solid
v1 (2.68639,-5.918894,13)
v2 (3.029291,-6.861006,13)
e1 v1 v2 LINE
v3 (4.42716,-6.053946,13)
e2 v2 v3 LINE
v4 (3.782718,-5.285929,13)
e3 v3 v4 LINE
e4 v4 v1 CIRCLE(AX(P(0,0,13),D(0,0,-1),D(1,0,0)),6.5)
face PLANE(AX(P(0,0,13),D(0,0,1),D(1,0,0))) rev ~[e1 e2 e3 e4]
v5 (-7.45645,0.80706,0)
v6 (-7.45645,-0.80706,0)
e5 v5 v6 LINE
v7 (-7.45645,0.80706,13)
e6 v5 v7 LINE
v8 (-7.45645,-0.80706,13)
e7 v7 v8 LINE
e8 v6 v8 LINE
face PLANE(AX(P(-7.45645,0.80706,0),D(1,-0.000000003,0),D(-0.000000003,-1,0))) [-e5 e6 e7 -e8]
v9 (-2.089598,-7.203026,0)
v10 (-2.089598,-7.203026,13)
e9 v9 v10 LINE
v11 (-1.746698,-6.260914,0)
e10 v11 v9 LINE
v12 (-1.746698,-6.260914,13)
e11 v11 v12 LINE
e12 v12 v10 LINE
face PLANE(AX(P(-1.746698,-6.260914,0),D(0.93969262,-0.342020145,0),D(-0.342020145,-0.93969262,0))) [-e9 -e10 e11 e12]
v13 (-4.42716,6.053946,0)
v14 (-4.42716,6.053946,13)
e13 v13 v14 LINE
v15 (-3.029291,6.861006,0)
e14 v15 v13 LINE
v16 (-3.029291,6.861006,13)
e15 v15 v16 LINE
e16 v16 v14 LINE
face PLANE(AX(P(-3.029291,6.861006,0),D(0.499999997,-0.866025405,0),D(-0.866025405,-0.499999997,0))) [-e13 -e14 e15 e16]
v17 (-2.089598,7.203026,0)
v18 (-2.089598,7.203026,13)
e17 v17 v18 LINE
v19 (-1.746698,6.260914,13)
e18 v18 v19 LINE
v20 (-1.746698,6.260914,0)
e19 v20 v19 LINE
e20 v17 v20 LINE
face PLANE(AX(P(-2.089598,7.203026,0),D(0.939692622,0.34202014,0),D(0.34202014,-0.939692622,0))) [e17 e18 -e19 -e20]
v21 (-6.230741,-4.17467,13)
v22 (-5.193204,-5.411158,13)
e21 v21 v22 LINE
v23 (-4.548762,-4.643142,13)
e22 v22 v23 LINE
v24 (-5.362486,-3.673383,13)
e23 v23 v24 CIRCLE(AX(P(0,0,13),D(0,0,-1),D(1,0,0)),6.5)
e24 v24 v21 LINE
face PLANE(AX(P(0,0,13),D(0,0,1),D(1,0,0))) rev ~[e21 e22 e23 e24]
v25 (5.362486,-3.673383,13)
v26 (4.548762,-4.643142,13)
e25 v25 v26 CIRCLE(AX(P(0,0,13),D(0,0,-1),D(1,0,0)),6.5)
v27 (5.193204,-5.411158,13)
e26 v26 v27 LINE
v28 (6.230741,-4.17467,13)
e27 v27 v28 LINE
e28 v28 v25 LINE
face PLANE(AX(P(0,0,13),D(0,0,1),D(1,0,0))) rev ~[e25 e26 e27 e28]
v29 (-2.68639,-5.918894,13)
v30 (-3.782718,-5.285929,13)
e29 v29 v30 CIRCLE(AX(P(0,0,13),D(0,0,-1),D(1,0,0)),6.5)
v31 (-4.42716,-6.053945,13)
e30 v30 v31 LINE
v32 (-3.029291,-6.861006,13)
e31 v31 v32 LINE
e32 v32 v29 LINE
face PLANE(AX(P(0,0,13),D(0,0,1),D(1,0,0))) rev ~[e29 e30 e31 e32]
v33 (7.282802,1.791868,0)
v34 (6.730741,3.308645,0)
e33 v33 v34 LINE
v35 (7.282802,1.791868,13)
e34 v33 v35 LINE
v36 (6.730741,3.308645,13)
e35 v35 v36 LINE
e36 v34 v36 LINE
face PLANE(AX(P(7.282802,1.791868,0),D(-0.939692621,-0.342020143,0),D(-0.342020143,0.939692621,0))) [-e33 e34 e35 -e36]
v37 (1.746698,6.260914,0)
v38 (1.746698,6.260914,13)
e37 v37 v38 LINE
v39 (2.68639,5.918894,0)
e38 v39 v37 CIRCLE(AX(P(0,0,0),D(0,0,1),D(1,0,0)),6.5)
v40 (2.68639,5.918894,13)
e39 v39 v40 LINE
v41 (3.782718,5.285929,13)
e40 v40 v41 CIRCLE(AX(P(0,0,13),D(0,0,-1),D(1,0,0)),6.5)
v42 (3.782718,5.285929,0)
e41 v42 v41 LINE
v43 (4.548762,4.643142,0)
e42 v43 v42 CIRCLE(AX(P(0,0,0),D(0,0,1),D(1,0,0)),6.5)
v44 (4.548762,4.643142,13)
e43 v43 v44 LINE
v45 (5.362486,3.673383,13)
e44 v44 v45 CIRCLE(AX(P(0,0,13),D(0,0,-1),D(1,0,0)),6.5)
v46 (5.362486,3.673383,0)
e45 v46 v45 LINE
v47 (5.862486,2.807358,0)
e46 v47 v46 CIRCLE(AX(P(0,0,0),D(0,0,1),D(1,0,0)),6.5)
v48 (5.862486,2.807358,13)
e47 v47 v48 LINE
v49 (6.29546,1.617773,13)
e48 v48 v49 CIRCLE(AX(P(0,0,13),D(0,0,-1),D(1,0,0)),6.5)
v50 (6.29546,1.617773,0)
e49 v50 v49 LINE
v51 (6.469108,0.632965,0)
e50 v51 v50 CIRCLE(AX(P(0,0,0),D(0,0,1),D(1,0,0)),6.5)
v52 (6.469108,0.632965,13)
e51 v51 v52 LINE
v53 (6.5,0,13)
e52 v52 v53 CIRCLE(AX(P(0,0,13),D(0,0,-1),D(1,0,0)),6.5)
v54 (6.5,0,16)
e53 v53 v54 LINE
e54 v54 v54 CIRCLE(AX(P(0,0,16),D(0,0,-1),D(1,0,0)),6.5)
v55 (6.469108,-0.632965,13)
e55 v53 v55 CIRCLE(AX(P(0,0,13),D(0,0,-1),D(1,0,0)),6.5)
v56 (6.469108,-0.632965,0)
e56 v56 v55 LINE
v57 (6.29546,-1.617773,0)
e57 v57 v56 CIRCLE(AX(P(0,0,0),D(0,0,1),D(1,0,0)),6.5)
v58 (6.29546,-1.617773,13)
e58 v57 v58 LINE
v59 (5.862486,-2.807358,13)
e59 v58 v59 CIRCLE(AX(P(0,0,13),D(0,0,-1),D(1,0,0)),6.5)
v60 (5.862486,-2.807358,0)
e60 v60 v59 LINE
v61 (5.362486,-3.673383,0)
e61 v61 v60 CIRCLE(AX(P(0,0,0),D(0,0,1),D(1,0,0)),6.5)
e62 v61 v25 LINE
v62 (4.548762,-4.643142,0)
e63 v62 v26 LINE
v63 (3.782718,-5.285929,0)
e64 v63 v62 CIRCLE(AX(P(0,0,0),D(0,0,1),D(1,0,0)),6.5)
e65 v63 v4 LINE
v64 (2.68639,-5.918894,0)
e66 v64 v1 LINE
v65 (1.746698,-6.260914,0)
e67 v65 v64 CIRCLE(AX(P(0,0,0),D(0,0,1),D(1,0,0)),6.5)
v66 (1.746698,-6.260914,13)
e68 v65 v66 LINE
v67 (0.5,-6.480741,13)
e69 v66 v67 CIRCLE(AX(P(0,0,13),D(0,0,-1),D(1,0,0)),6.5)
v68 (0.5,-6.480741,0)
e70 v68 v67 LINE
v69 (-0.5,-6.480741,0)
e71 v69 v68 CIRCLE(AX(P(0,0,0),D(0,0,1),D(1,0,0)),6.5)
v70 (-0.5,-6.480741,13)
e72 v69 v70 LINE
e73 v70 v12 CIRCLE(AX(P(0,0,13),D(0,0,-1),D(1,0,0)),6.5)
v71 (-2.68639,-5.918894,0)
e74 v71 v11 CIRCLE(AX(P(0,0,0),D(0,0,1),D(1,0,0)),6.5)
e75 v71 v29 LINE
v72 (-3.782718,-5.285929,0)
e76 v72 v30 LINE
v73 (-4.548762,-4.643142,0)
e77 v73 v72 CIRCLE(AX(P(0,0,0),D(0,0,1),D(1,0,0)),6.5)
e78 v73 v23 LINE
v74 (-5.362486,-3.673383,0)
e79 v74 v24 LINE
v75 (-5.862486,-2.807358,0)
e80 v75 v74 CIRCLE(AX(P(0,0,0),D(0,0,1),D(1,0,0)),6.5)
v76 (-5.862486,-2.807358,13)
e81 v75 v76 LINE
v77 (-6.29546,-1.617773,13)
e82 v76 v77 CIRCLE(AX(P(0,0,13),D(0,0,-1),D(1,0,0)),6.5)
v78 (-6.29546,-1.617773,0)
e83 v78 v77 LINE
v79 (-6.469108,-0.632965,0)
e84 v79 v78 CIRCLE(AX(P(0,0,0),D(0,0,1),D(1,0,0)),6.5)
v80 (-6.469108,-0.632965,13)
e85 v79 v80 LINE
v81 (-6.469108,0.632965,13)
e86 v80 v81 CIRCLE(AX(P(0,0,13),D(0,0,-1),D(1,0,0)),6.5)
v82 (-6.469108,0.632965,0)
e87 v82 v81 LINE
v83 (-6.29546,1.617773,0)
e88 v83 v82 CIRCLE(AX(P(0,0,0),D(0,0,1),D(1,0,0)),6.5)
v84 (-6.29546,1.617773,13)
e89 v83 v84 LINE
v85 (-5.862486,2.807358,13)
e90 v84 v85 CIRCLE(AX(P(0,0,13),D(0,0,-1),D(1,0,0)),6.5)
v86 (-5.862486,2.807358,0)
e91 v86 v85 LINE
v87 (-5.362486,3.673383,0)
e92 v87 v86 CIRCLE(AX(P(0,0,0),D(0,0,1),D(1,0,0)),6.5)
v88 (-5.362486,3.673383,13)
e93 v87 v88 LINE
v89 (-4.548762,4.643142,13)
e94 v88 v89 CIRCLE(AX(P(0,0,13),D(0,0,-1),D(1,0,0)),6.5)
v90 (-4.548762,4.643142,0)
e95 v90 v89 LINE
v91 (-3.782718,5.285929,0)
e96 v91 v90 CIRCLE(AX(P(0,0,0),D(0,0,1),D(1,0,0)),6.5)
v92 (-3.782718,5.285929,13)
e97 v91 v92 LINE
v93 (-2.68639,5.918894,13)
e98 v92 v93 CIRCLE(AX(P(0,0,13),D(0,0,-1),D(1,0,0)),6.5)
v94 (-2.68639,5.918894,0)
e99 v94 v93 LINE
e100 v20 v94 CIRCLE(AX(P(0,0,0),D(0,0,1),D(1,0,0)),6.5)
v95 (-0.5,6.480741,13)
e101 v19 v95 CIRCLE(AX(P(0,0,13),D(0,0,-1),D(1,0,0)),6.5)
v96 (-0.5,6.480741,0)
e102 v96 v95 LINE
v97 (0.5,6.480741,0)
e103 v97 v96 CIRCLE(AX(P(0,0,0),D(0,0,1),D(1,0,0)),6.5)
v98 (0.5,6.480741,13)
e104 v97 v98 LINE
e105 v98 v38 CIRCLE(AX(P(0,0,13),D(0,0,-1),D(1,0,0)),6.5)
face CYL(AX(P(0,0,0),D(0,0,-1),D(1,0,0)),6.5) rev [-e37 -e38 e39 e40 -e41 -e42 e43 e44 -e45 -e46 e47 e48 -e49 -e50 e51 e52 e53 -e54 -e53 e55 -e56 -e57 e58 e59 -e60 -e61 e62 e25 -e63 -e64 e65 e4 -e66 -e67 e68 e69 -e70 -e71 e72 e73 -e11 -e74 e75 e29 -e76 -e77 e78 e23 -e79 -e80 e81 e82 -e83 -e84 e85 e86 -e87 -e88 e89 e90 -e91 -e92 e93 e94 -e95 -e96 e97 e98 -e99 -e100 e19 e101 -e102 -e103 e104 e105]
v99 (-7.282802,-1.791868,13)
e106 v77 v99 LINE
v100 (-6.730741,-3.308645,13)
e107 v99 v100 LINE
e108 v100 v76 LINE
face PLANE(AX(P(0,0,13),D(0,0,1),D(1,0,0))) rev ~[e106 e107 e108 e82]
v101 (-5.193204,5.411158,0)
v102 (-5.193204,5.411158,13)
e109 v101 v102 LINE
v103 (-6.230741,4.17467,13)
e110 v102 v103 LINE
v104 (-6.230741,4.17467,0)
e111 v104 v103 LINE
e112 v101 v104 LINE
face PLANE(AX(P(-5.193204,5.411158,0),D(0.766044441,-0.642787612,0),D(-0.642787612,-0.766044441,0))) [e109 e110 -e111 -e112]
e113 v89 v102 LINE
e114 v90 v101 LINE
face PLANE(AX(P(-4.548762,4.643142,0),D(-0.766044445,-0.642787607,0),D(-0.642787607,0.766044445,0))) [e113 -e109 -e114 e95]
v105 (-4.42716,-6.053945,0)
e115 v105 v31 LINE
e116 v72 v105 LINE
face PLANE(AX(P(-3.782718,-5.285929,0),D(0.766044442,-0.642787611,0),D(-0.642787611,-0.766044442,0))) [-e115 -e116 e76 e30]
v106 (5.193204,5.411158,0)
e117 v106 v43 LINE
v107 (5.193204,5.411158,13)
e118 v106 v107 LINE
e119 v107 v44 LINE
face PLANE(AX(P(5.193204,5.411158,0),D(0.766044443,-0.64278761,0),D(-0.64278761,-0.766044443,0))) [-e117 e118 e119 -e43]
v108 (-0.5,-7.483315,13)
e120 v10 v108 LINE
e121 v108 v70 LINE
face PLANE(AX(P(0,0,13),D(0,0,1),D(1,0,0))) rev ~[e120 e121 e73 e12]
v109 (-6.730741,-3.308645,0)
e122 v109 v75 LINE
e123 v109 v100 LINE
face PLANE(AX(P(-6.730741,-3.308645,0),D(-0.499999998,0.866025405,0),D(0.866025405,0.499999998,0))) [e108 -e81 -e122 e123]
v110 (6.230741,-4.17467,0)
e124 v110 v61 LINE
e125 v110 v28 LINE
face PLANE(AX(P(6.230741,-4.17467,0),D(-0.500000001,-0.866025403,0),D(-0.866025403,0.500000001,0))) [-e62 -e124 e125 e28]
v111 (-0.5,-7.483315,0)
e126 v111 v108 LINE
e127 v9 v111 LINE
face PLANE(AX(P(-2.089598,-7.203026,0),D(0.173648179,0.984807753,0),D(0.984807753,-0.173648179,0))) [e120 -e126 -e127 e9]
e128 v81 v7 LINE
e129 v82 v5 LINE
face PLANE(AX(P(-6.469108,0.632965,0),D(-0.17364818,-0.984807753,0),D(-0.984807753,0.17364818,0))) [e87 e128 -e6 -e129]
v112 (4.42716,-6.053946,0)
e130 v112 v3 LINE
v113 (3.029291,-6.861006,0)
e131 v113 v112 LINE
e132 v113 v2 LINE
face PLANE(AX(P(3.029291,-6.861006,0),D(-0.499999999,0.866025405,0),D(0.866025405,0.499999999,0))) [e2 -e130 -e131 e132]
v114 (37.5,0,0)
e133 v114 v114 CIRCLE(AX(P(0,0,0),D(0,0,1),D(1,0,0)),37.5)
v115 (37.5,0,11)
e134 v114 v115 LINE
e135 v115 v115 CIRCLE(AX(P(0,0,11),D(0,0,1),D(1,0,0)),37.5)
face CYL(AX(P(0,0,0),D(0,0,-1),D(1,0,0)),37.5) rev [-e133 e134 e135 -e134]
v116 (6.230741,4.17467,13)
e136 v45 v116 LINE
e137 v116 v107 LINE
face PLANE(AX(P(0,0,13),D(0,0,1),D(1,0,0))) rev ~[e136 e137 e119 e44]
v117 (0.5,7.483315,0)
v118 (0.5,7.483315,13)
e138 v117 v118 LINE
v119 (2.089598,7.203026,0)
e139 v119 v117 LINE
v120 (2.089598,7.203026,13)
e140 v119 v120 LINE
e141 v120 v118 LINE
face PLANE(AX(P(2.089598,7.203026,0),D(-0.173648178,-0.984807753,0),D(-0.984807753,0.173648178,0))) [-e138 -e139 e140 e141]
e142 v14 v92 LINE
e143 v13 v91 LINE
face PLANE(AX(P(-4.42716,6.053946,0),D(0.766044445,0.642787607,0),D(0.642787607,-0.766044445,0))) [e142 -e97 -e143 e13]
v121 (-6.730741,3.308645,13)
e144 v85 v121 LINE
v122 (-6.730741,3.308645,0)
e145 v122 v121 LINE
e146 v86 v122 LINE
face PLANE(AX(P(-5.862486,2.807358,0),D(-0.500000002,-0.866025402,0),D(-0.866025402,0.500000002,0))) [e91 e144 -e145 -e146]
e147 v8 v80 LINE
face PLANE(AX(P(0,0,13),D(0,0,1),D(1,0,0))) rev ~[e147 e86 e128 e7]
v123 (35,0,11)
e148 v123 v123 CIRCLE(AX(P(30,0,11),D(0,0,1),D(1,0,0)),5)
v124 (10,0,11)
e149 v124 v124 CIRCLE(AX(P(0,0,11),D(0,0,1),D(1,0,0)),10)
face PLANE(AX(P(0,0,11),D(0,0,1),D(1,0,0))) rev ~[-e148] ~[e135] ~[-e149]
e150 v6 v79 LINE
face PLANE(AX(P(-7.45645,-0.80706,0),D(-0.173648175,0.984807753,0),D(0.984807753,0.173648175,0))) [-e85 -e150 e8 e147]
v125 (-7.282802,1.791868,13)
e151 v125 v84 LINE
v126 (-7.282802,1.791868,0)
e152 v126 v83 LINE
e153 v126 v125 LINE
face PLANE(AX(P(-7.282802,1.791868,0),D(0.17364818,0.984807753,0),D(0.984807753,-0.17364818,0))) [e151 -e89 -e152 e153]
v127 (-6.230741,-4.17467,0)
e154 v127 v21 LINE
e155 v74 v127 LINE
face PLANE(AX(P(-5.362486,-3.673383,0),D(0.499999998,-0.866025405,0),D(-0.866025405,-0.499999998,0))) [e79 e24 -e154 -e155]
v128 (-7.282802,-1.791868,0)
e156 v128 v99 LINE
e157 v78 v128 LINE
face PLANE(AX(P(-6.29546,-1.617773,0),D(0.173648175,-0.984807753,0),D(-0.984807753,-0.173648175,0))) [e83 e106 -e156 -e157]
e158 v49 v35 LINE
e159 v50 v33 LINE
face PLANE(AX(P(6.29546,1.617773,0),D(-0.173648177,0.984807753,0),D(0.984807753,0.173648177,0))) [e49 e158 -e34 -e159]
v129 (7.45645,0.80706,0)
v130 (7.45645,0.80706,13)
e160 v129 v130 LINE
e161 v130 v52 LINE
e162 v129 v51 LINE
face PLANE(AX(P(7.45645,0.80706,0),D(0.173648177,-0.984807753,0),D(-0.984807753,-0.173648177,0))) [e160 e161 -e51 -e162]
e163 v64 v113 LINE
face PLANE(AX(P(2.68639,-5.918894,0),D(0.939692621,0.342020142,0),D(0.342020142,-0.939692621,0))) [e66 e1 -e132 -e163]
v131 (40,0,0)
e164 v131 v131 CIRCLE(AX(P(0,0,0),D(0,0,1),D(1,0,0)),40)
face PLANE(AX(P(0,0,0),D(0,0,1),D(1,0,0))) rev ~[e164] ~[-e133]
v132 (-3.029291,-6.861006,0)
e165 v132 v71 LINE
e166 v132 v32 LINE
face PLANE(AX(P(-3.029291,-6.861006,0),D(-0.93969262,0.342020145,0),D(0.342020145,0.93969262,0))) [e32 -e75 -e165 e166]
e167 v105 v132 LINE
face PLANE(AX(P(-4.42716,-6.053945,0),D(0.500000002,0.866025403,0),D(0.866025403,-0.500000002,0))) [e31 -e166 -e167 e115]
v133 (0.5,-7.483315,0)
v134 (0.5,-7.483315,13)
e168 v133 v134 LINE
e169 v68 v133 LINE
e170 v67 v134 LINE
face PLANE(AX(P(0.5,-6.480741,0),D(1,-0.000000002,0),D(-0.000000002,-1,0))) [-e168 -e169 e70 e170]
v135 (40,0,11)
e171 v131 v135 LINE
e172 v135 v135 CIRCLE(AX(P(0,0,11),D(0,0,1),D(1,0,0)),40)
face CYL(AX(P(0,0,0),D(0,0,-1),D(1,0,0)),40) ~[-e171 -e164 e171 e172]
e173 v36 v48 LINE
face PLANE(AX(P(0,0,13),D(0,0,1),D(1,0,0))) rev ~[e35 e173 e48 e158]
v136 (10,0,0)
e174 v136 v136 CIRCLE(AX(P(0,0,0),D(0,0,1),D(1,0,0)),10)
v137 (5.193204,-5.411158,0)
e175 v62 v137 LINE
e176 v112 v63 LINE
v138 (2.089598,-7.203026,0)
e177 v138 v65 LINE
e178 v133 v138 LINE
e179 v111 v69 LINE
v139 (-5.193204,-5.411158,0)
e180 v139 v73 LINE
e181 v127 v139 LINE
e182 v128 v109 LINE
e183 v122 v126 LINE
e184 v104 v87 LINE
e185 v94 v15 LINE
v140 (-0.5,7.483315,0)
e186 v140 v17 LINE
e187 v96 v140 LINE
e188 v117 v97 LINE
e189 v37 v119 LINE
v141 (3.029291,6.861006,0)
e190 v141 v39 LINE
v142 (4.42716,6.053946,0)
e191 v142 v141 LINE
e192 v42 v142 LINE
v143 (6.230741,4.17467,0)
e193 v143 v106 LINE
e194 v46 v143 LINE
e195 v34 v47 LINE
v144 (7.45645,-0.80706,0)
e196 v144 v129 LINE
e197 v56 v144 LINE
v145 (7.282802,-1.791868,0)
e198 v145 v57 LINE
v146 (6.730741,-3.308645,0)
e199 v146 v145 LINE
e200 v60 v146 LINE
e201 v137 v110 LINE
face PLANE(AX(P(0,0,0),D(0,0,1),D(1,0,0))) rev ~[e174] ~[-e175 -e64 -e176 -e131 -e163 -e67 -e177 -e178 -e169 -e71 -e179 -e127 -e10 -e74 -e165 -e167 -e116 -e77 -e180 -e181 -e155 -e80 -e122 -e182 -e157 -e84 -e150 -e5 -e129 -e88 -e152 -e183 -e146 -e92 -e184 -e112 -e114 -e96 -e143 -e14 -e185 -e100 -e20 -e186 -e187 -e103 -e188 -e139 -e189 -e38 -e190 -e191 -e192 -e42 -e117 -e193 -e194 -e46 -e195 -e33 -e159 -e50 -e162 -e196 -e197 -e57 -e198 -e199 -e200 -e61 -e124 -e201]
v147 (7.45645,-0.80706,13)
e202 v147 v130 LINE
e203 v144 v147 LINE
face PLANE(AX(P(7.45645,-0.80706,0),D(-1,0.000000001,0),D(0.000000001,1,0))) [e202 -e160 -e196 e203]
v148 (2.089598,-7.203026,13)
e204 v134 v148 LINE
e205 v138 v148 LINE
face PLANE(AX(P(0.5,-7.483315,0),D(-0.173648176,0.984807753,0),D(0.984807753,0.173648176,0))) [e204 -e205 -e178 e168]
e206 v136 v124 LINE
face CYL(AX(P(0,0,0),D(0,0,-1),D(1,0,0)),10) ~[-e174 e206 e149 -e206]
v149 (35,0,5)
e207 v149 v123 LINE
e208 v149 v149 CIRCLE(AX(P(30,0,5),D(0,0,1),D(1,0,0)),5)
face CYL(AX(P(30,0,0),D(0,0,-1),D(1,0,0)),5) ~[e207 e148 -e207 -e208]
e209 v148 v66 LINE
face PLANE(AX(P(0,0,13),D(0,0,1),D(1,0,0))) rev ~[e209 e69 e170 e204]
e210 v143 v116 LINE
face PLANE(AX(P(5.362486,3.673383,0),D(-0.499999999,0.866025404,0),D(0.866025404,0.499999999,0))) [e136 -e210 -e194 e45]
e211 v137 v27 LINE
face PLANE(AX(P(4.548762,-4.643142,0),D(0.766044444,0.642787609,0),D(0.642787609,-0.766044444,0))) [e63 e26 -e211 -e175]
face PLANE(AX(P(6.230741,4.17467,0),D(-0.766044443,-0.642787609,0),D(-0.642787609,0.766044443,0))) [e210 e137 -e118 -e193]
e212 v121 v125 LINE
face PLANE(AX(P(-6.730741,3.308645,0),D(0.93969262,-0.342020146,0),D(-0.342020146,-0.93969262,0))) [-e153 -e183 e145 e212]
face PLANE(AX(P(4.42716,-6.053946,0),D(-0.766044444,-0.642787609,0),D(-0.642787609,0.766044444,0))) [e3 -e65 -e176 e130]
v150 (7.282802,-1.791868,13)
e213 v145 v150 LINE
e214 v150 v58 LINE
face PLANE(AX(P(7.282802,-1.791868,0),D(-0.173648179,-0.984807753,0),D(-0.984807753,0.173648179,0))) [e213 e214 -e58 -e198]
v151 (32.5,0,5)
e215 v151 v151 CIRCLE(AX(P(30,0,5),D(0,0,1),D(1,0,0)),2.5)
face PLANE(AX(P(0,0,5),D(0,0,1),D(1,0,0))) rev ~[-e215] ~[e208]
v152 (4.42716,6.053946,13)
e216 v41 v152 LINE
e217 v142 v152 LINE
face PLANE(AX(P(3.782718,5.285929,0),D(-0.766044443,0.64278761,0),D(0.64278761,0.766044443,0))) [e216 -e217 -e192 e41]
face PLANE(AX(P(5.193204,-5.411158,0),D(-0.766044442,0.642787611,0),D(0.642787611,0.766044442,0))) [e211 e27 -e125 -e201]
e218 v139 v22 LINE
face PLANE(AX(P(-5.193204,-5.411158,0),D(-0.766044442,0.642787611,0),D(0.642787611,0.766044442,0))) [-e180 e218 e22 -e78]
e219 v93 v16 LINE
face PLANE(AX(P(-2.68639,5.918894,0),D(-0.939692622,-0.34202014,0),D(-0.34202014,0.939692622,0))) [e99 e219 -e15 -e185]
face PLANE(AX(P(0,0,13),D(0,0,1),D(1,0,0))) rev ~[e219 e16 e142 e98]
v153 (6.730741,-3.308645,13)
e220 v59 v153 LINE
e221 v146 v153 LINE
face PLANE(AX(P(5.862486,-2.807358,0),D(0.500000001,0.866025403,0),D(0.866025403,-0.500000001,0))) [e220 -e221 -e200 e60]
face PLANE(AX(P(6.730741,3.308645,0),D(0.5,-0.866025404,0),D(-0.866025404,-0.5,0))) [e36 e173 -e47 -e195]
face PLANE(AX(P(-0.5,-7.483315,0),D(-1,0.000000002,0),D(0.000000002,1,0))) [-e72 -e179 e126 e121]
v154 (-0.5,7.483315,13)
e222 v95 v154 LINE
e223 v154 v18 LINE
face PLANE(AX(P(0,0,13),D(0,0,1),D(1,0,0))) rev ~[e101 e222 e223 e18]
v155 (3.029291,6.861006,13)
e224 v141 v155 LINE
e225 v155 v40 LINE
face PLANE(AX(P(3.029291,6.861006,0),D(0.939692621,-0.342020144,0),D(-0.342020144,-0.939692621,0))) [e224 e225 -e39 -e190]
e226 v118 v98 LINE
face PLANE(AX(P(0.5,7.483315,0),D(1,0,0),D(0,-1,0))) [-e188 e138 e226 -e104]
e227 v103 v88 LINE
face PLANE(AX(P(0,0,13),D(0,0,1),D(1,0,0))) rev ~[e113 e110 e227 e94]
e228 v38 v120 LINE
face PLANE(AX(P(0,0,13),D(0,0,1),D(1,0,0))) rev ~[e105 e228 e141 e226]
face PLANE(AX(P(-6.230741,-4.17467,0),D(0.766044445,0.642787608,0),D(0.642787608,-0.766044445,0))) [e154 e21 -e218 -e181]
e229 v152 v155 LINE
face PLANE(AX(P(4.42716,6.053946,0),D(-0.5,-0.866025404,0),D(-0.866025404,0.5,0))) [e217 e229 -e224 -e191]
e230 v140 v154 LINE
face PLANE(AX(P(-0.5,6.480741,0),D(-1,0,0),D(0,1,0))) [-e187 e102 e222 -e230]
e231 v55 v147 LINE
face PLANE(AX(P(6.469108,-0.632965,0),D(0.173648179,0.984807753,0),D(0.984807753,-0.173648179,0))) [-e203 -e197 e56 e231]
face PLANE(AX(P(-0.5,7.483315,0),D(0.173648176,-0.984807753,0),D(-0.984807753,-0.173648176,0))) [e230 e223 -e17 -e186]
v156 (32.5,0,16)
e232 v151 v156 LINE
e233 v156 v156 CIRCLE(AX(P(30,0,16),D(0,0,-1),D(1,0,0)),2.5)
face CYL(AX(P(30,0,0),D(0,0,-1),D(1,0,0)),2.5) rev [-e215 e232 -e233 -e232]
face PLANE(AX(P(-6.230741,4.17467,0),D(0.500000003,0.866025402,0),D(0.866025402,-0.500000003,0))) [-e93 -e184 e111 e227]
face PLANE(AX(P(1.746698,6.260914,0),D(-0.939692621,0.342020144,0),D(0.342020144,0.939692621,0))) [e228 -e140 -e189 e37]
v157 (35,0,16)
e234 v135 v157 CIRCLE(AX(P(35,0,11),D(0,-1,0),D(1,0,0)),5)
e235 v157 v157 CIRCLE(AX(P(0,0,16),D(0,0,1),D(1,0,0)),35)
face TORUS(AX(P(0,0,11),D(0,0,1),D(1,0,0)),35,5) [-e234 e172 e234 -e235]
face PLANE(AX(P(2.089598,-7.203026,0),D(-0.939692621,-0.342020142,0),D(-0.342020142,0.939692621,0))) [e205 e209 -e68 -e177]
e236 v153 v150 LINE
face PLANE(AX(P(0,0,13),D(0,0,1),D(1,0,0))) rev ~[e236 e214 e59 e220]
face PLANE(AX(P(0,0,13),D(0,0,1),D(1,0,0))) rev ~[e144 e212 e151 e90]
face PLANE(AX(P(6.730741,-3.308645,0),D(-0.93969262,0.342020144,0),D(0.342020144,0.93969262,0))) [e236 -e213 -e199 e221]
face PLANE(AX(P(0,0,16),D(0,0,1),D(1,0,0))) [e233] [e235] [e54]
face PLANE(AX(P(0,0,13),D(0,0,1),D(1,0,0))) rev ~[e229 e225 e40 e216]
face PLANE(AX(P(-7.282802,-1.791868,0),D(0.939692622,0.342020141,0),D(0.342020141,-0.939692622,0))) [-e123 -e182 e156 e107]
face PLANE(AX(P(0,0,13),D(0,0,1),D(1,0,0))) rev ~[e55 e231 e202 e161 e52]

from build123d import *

# Parameters (mm, degrees)
F1_R      = 40
F2_DEPTH  = 16
F3_DEPTH  = 13
F4_R      = 6.5
F5_DEPTH  = 16.001
F6_R      = 2.5
F7_DEPTH  = 16.001
F8_R      = 5
F9_R      = 37.5
F9_R_2    = 10
F9_R_3    = 5
F10_DEPTH = 11
F11_DEPTH = 5


with BuildPart() as f2:
    # F1 (on Top) → F2 (new body)
    with BuildSketch(Plane.XY):
        Circle(F1_R)
    extrude(amount=F2_DEPTH)

    # F0 (on Top) → F3 (cut)
    with BuildSketch(Plane.XY):
        Polygon((0.5, 7.4833147735), (0.5, 6.4807406984), (-0.5, 6.4807406984), (-0.5, 7.4833147735), (-2.0895980578, 7.2030257501), (-1.746697532, 6.2609142888), (-2.6863901539, 5.9188941485), (-3.0292906797, 6.8610056098), (-4.4271597759, 6.0539455166), (-3.782717585, 5.2859292156), (-4.54876203, 4.6431416082), (-5.193204221, 5.4111579093), (-6.2307406865, 4.1746701064), (-5.3624860697, 3.6733830663), (-5.8624860722, 2.807357664), (-6.730740689, 3.308644704), (-7.2828023136, 1.7918678691), (-6.2954595919, 1.6177727054), (-6.4691077722, 0.6329649529), (-7.4564504939, 0.8070601166), (-7.456450498, -0.8070600785), (-6.4691077754, -0.6329649198), (-6.2954596002, -1.6177726732), (-7.2828023228, -1.7918678319), (-6.7307407059, -3.3086446696), (-5.8624860865, -2.807357634), (-5.3624860885, -3.6733830389), (-6.2307407079, -4.1746700745), (-5.1932042487, -5.4111578827), (-4.5487620538, -4.643141585), (-3.782717612, -5.2859291963), (-4.4271598069, -6.053945494), (-3.0292907148, -6.8610055943), (-2.6863901841, -5.9188941348), (-1.746697564, -6.2609142799), (-2.0895980946, -7.2030257394), (-0.5000000128, -7.4833147727), (-0.500000011, -6.4807406976), (0.499999989, -6.4807406993), (0.4999999872, -7.4833147744), (2.0895980701, -7.2030257465), (1.7466975426, -6.2609142858), (2.686390164, -5.9188941439), (3.0292906914, -6.8610056046), (4.4271597862, -6.0539455091), (3.782717594, -5.2859292092), (4.5487620379, -4.6431416005), (5.1932042302, -5.4111579004), (6.2307406937, -4.1746700957), (5.362486076, -3.6733830572), (5.862486077, -2.807357654), (6.7307406946, -3.3086446925), (7.2828023167, -1.7918678567), (6.2954595947, -1.6177726947), (6.4691077733, -0.6329649418), (7.4564504953, -0.8070601039), (7.4564504967, 0.8070600912), (6.4691077744, 0.6329649308), (6.2954595974, 1.6177726839), (7.2828023197, 1.7918678443), (6.7307407003, 3.3086446811), (5.8624860818, 2.807357644), (5.3624860822, 3.673383048), (6.2307407008, 4.1746700851), (5.1932042394, 5.4111578916), (4.5487620458, 4.6431415927), (3.782717603, 5.2859292027), (4.4271597966, 6.0539455016), (3.0292907031, 6.8610055995), (2.686390174, 5.9188941393), (1.7466975533, 6.2609142829), (2.0895980824, 7.203025743), align=None)
    extrude(amount=F3_DEPTH, mode=Mode.SUBTRACT)

    # F4 (on Top) → F5 (cut, through all)
    with BuildSketch(Plane.XY):
        Circle(F4_R)
    extrude(amount=F5_DEPTH, mode=Mode.SUBTRACT)

    # F6 (on Top) → F7 (cut, through all)
    with BuildSketch(Plane.XY):
        with Locations((30, 0)):
            Circle(F6_R)
    extrude(amount=F7_DEPTH, mode=Mode.SUBTRACT)

    # F8
    f8_edges = [f2.edges().sort_by_distance(p)[0] for p in [
        (-40, 0, 16),
    ]]
    fillet(f8_edges, radius=F8_R)

    # F9 (on Top) → F10 (cut)
    with BuildSketch(Plane.XY):
        Circle(F9_R)
        Circle(F9_R_2, mode=Mode.SUBTRACT)
        with Locations((30, 0)):
            Circle(F9_R_3, mode=Mode.SUBTRACT)
    extrude(amount=F10_DEPTH, mode=Mode.SUBTRACT)

    # F11 (cut): a face of the model
    f11_faces = [f2.faces().sort_by_distance(p)[0] for p in [
        (25.1414213562, 0, 0),
    ]]
    extrude(f11_faces, amount=-F11_DEPTH, mode=Mode.SUBTRACT)


solid = f2.part
